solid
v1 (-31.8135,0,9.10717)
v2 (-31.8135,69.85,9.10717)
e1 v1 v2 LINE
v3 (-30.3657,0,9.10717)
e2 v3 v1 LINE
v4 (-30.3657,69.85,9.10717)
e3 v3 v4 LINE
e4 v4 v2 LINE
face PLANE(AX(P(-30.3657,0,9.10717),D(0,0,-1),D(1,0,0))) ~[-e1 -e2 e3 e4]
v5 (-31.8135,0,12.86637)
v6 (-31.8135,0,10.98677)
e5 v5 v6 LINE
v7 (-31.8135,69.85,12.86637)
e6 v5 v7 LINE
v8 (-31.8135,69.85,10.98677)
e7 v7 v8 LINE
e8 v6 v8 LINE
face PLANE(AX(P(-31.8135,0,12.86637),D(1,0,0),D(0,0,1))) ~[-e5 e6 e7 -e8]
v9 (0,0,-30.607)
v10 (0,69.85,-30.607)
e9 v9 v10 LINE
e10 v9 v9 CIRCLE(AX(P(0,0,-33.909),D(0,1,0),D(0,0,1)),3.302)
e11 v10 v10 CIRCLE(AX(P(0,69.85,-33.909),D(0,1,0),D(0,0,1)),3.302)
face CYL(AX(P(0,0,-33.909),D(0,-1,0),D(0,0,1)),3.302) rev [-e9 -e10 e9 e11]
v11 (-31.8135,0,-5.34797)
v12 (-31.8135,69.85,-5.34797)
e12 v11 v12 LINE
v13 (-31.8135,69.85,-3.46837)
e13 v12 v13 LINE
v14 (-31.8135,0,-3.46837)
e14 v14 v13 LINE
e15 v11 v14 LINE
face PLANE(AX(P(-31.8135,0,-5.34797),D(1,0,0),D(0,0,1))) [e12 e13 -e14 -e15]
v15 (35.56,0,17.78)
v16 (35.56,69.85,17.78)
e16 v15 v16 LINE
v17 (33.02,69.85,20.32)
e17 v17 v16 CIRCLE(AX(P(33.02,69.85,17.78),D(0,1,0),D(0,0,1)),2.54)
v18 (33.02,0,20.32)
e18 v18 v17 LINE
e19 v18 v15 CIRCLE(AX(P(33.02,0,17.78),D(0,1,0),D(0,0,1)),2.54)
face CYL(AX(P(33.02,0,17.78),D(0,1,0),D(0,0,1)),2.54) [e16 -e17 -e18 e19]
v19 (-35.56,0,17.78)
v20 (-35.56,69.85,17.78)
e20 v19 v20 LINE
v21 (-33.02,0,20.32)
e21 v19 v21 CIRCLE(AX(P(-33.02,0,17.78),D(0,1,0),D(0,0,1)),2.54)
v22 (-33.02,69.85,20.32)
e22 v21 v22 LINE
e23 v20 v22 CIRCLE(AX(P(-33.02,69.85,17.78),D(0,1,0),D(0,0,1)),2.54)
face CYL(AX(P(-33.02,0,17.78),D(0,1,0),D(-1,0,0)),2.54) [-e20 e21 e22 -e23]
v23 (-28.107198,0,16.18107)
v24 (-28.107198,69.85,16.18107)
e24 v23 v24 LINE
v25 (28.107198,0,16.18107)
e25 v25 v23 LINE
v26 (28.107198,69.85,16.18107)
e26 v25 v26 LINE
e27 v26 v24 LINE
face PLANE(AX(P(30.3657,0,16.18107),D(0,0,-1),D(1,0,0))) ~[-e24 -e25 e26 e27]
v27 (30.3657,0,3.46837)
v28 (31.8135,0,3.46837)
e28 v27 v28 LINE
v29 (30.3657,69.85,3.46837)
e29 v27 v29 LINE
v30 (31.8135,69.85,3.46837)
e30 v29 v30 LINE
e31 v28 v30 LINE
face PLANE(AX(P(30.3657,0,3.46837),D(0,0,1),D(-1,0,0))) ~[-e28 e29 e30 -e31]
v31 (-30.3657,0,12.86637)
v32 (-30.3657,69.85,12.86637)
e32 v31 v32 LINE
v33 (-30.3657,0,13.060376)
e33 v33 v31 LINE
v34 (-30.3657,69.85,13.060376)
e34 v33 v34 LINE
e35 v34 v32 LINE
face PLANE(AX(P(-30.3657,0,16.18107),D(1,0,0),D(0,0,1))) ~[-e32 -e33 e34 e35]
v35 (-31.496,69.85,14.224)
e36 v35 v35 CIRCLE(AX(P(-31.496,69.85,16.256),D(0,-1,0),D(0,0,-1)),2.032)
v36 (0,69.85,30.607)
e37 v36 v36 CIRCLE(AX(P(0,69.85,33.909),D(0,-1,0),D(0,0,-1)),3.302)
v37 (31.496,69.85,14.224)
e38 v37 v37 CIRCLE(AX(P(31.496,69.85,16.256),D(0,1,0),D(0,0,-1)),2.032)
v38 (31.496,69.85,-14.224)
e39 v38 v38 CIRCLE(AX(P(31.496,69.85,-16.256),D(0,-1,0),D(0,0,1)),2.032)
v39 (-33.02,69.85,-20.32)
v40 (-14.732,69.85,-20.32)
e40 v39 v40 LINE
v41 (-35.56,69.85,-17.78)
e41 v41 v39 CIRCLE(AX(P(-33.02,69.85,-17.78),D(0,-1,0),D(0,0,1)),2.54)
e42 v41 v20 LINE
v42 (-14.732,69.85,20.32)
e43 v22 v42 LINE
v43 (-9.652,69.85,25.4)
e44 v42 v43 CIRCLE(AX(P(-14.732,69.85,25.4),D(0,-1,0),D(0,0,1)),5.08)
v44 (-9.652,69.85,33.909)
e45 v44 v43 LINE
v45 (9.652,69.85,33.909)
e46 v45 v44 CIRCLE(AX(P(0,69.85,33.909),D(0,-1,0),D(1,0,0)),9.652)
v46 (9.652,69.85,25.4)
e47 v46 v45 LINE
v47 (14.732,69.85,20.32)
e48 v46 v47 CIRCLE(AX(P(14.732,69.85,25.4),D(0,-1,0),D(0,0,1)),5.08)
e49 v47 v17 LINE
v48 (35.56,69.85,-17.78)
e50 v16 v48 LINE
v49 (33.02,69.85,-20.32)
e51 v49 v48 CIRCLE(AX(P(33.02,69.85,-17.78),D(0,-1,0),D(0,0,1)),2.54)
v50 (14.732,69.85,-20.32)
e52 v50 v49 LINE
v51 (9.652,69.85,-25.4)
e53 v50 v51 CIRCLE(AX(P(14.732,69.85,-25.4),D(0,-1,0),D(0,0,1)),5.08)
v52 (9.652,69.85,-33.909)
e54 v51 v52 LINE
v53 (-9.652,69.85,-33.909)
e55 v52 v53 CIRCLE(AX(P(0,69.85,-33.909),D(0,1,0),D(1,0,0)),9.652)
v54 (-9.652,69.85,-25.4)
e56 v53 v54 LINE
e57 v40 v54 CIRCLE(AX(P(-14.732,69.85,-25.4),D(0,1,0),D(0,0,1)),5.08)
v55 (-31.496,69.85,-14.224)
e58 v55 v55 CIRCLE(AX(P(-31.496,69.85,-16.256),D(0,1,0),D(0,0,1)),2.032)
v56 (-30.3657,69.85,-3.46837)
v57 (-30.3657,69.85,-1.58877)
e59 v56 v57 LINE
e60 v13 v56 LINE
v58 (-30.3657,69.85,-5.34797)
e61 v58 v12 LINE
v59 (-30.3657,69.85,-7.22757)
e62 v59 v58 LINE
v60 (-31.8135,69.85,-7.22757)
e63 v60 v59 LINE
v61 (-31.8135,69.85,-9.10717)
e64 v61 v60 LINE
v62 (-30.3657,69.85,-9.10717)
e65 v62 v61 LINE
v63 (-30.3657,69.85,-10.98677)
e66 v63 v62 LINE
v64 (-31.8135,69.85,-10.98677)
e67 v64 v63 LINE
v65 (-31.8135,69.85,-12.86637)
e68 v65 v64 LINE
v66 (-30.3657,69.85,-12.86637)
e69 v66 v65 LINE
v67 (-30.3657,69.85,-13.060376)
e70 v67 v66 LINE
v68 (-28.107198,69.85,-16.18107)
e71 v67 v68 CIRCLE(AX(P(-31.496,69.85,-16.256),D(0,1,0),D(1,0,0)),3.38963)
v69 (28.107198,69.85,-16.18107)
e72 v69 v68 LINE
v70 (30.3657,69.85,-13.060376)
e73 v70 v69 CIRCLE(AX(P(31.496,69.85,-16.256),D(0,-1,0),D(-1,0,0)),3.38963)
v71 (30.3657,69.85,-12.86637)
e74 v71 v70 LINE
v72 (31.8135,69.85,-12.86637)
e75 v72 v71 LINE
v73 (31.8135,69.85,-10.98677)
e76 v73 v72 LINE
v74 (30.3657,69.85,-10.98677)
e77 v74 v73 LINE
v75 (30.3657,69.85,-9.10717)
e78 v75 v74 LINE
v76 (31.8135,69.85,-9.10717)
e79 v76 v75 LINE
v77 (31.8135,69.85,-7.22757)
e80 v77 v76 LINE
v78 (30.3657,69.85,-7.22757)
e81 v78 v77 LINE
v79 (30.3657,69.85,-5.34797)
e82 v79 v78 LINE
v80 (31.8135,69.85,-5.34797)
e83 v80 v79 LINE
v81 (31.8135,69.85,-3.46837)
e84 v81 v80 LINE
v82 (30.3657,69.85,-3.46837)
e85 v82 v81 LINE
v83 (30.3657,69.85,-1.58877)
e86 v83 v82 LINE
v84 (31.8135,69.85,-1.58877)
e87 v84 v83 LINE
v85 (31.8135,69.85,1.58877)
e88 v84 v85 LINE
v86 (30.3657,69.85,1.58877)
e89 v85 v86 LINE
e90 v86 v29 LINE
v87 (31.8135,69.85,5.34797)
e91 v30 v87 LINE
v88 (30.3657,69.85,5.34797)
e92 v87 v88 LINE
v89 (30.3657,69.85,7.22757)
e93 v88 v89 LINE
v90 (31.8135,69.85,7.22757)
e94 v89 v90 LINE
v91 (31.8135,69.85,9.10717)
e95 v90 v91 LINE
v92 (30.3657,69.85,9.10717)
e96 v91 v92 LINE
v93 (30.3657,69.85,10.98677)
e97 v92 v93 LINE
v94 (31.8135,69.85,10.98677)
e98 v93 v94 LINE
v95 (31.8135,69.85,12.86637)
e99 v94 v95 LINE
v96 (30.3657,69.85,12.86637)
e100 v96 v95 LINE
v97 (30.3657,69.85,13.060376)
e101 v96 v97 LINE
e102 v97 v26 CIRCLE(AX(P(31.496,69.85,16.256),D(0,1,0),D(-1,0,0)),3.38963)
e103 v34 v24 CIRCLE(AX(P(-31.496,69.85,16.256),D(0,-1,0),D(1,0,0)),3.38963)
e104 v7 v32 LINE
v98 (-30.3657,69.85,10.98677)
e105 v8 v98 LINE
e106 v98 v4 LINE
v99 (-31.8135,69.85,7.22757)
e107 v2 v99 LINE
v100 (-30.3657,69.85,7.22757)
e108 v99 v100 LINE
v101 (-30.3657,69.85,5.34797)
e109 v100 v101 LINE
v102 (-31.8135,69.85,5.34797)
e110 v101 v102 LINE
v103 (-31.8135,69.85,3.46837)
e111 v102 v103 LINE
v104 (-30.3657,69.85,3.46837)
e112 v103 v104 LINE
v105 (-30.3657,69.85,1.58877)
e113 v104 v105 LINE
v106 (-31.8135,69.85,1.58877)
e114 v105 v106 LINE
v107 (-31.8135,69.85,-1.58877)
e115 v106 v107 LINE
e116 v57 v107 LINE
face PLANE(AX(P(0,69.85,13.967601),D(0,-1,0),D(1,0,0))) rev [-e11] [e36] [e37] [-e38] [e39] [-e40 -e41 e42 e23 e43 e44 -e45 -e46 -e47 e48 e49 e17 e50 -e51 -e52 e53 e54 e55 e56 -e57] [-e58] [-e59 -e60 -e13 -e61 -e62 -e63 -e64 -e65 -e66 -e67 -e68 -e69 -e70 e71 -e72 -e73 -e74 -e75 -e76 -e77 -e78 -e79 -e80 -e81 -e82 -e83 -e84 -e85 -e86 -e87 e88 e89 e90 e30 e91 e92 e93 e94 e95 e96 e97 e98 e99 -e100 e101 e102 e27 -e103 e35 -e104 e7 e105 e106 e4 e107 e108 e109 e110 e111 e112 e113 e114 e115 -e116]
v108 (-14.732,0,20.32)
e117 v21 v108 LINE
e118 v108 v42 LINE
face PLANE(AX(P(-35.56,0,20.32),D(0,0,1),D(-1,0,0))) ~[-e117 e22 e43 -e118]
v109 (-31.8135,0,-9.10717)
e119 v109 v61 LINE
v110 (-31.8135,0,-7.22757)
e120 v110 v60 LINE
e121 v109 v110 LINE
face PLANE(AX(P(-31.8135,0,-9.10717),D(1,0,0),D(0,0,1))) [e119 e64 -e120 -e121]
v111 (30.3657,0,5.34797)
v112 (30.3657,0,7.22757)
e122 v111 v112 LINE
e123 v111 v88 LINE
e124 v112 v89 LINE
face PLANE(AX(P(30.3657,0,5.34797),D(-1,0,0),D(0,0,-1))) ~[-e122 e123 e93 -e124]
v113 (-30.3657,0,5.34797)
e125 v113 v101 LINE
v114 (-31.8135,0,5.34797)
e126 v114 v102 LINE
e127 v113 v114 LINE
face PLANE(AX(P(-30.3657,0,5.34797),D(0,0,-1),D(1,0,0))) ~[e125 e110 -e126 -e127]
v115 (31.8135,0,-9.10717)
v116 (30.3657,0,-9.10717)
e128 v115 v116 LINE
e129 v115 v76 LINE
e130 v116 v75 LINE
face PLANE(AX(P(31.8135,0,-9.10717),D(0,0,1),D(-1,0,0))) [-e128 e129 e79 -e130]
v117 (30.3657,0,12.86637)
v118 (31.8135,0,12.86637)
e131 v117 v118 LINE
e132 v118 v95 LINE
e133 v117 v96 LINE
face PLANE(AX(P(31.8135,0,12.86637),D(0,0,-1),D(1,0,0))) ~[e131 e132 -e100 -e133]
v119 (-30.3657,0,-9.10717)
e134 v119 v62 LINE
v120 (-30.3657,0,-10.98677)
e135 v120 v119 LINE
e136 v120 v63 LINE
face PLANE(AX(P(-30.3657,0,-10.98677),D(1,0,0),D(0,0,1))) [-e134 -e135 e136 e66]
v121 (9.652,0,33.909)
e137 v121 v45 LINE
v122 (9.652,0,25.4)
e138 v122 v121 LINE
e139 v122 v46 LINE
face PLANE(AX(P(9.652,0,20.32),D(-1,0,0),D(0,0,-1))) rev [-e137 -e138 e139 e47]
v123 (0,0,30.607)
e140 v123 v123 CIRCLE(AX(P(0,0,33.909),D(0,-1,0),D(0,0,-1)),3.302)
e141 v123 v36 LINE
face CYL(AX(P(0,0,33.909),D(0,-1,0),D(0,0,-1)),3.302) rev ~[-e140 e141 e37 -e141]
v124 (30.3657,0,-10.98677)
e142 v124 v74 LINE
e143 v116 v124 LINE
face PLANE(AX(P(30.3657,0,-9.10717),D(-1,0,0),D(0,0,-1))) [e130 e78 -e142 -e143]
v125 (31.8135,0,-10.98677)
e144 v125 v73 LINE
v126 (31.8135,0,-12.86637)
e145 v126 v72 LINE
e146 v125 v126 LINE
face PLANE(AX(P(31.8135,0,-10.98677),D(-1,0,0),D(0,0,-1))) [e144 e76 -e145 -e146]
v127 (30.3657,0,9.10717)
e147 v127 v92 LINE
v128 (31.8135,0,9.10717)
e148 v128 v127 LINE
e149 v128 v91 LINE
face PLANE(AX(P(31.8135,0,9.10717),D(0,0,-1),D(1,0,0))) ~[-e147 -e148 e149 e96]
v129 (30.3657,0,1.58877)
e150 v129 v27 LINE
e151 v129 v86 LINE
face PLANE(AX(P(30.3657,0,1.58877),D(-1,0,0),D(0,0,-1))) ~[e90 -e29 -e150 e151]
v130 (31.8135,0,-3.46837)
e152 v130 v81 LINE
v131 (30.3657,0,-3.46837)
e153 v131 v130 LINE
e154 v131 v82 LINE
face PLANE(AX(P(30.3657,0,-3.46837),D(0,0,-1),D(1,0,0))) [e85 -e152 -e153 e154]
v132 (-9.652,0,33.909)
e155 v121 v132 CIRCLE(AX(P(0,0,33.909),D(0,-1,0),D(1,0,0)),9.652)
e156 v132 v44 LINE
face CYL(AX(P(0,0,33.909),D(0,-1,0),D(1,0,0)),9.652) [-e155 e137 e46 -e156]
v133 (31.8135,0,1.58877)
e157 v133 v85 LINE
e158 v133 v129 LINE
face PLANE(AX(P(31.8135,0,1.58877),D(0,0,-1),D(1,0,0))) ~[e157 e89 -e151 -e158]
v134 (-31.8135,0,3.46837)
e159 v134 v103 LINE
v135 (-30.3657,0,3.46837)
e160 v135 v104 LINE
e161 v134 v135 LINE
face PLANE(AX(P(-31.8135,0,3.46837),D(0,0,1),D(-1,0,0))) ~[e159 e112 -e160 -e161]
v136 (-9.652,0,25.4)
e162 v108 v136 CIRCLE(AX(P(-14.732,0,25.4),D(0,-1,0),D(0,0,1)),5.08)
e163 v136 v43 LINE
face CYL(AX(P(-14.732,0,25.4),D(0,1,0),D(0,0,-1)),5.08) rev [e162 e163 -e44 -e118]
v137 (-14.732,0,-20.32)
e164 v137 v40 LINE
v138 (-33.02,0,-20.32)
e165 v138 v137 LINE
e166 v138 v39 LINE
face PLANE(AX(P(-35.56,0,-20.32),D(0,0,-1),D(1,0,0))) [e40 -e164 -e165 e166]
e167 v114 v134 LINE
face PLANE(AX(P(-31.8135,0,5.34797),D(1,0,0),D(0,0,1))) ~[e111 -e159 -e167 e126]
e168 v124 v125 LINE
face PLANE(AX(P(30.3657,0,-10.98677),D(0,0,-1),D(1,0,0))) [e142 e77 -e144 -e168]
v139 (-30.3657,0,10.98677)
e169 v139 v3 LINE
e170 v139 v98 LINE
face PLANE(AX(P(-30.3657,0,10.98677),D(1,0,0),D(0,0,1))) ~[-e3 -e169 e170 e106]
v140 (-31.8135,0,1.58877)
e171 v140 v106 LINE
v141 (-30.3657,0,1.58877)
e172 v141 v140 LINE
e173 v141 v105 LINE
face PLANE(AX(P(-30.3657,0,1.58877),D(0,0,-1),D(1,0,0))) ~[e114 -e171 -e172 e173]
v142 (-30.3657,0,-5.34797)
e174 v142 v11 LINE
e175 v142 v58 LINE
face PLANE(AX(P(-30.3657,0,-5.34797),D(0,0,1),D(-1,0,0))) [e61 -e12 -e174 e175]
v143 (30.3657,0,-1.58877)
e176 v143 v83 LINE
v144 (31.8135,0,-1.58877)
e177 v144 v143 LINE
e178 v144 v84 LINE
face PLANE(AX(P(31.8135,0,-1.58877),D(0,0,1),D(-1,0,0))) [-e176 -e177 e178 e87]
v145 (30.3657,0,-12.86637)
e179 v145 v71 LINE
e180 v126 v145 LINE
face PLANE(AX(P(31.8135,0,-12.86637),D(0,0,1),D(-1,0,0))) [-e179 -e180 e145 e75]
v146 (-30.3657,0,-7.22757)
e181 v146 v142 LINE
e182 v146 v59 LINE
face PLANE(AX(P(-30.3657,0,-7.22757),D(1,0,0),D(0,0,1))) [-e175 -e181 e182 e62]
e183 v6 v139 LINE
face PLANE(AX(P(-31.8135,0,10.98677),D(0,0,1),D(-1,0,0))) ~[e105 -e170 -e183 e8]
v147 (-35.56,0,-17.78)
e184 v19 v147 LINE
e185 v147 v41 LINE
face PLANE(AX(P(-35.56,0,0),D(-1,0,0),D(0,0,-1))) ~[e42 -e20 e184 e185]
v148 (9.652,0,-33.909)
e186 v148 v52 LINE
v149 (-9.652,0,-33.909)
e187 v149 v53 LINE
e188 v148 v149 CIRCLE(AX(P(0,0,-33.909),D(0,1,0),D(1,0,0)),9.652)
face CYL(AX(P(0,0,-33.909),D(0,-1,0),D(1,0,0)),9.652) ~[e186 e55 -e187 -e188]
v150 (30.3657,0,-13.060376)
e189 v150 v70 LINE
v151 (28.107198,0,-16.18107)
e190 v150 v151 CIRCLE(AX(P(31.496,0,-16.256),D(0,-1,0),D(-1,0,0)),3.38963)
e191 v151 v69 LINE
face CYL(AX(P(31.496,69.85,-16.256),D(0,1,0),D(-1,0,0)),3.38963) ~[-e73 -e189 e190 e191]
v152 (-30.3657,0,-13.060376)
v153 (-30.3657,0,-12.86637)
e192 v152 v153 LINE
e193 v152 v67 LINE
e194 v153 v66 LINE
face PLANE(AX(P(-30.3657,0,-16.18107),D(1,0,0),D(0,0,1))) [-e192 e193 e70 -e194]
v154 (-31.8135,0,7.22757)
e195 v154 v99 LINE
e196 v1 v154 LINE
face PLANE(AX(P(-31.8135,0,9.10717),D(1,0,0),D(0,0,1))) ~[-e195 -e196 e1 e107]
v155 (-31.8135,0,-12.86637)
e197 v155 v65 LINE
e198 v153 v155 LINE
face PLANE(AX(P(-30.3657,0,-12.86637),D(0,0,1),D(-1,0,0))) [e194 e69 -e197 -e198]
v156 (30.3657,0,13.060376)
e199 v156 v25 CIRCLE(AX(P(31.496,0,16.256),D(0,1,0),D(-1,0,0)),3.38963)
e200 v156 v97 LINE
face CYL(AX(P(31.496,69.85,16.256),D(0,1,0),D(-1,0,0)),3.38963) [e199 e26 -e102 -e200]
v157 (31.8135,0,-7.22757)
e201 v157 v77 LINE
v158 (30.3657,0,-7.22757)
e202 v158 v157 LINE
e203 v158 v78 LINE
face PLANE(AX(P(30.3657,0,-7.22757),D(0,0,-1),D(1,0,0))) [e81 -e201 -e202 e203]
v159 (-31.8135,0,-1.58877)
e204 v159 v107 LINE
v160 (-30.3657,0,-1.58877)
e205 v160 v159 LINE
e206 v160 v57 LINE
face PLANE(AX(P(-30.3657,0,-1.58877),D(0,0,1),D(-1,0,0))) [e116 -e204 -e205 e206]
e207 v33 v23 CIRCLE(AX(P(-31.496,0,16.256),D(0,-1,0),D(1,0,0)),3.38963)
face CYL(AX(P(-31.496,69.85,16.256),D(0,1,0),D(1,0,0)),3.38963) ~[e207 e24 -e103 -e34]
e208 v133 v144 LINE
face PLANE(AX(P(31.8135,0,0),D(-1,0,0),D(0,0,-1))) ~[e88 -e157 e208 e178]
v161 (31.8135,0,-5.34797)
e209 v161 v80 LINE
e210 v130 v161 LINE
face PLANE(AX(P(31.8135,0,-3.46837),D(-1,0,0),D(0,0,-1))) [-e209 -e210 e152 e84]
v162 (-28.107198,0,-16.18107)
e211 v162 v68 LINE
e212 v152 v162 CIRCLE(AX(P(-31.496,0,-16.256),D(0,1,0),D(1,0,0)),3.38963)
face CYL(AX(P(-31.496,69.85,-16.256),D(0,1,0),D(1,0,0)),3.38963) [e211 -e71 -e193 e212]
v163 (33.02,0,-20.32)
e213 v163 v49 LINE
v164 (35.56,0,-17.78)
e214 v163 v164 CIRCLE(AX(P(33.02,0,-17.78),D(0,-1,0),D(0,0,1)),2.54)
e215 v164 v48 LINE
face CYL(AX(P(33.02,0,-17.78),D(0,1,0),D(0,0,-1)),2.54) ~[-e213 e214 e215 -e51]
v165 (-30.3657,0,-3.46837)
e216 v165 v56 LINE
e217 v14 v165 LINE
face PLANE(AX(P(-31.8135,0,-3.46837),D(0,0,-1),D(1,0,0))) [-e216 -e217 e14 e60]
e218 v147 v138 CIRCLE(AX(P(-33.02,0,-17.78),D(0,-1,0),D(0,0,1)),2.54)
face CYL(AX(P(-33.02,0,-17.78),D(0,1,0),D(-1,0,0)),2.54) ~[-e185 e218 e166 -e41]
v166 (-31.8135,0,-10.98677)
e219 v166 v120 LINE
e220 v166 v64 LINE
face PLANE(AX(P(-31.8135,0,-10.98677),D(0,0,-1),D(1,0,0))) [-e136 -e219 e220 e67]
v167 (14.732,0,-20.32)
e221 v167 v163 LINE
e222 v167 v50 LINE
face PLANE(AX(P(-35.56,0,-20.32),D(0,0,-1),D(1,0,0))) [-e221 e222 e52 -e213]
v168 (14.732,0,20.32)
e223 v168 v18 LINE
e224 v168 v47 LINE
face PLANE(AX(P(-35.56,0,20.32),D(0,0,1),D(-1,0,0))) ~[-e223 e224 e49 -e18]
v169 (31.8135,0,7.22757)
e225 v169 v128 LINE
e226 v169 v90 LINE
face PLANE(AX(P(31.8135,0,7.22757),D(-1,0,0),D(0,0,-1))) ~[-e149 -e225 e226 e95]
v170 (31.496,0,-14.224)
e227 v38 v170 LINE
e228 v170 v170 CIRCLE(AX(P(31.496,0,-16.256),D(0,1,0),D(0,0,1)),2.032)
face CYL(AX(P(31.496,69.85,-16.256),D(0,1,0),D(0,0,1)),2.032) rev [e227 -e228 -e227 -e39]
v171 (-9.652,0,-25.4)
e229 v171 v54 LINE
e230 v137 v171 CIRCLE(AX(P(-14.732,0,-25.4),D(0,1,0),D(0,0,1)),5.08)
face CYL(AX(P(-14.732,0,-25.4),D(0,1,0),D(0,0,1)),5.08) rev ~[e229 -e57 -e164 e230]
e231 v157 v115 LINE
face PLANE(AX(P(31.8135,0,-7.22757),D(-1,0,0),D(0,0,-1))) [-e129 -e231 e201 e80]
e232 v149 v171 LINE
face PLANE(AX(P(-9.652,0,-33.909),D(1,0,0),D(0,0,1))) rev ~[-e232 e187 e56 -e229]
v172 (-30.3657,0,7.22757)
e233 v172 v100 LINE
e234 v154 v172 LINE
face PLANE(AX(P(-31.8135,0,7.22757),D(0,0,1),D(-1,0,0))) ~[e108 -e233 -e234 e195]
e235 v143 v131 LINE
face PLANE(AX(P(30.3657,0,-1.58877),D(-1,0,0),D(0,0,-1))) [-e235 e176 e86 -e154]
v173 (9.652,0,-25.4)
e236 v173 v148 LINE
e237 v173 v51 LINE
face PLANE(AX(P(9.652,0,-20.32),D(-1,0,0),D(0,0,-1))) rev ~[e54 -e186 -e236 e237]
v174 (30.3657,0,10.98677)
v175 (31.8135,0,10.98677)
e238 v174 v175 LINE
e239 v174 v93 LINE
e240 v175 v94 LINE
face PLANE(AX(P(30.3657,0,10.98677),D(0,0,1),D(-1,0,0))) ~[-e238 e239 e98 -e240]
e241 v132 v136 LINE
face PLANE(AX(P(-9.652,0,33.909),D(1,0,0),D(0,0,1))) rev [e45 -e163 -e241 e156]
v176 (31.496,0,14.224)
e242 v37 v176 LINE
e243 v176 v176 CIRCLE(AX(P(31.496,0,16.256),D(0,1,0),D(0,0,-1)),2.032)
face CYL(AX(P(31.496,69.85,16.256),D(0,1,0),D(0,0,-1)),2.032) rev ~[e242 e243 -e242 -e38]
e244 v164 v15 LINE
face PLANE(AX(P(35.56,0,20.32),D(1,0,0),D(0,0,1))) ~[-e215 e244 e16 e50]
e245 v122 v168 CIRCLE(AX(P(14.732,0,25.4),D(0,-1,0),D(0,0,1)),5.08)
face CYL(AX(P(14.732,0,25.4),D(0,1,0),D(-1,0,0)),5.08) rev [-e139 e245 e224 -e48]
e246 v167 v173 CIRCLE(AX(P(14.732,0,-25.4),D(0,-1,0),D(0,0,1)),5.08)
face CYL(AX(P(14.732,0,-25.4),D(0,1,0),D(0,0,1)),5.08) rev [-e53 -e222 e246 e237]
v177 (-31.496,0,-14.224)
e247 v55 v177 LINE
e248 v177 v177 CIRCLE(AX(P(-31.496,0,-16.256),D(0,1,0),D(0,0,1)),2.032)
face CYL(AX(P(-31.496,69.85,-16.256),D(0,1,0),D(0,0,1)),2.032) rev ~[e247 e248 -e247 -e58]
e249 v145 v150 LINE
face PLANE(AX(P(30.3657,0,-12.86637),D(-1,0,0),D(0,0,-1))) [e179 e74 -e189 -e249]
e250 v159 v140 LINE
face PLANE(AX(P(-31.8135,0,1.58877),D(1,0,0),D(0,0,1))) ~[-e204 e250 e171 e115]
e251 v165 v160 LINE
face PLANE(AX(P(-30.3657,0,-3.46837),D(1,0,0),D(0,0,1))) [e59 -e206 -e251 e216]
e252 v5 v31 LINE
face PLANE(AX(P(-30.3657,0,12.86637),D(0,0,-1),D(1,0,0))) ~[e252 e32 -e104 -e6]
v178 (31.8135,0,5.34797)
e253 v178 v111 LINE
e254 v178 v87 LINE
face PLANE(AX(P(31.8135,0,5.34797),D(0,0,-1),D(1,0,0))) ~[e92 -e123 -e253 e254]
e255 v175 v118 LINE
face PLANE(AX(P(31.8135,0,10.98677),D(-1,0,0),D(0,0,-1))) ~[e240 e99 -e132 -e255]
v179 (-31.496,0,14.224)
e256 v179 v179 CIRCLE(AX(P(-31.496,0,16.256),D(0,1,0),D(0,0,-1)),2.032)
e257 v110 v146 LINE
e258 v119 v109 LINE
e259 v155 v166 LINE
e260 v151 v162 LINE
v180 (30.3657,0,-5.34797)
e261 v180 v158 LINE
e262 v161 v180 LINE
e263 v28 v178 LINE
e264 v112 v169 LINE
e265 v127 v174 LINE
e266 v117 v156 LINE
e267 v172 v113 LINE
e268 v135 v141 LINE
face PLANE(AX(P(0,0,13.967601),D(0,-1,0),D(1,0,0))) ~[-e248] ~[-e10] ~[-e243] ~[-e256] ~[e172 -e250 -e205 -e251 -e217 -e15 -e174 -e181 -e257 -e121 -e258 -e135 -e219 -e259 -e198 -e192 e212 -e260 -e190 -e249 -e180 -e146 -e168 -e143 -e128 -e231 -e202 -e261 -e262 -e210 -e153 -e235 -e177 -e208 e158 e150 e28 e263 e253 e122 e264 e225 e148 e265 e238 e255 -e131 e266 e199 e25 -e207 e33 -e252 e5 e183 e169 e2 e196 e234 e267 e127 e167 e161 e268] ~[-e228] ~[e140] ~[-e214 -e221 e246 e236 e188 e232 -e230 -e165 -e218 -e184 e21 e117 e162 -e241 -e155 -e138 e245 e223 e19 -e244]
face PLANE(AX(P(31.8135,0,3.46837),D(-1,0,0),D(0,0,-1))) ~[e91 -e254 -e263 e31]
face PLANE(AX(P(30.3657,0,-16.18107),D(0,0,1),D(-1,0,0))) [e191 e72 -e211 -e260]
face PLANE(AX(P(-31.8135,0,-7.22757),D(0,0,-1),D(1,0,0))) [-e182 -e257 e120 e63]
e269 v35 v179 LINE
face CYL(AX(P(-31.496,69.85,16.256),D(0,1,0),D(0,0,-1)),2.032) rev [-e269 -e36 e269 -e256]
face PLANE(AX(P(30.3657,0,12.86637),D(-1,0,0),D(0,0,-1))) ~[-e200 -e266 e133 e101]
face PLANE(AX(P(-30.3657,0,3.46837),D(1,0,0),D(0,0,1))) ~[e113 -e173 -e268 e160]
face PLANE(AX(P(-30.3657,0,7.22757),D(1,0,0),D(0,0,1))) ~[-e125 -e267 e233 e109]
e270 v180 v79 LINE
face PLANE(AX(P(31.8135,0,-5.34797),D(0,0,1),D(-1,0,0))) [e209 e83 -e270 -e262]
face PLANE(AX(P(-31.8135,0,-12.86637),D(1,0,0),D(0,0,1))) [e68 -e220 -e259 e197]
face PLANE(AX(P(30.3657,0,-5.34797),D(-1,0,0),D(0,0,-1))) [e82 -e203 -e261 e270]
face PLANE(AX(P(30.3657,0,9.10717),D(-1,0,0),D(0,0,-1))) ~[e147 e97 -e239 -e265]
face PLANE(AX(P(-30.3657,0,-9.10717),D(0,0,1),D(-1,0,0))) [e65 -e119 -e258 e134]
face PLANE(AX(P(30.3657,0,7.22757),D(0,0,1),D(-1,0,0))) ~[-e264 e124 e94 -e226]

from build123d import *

# Parameters (mm, degrees)
BOSS_EXTRUDE1_DEPTH                        = 69.85
FILLET1_R                                  = 2.54
SKETCH4_R                                  = 3.302
BOSS_EXTRUDE3_DEPTH                        = 69.85
FILLET2_R                                  = 5.08
SKETCH5_R                                  = 3.38963
BOSS_EXTRUDE4_DEPTH                        = 69.85
FILLET1_OF_MIRROR1_R                       = 2.54
FILLET2_OF_MIRROR1_R                       = 5.08
MIRROR2_AT_THE_SECOND_PLANE_COPY_1_SKETC_R = 3.38963
MIRROR2_AT_THE_SECOND_PLANE_COPY_1_DEPTH   = 69.85
SKETCH6_R                                  = 2.032
CUT_EXTRUDE1_DEPTH                         = 90.672163022
MIRROR3_AT_THE_SECOND_PLANE_COPY_1_SKETC_R = 2.032
MIRROR3_AT_THE_SECOND_PLANE_COPY_1_DEPTH   = 90.672163022


with BuildPart() as part:
    # Sketch1 → Boss-Extrude1 (new body)
    with BuildSketch(Plane(origin=(0, 0, 0), x_dir=(1, 0, 0), z_dir=(0, 1, 0))):
        Polygon((30.3657, 16.18107), (-30.3657, 16.18107), (-30.3657, 12.86637), (-31.8135, 12.86637), (-31.8135, 10.98677), (-30.3657, 10.98677), (-30.3657, 9.10717), (-31.8135, 9.10717), (-31.8135, 7.22757), (-30.3657, 7.22757), (-30.3657, 5.34797), (-31.8135, 5.34797), (-31.8135, 3.46837), (-30.3657, 3.46837), (-30.3657, 1.58877), (-31.8135, 1.58877), (-31.8135, 0), (-35.56, 0), (-35.56, 20.32), (35.56, 20.32), (35.56, 0), (31.8135, 0), (31.8135, 1.58877), (30.3657, 1.58877), (30.3657, 3.46837), (31.8135, 3.46837), (31.8135, 5.34797), (30.3657, 5.34797), (30.3657, 7.22757), (31.8135, 7.22757), (31.8135, 9.10717), (30.3657, 9.10717), (30.3657, 10.98677), (31.8135, 10.98677), (31.8135, 12.86637), (30.3657, 12.86637), align=None)
    boss_extrude1 = extrude(amount=BOSS_EXTRUDE1_DEPTH)

    # Fillet1
    fillet1_edges = [part.edges().sort_by_distance(p)[0] for p in [
        (-35.56, 34.925, -20.32),
        (35.56, 34.925, -20.32),
    ]]
    fillet(fillet1_edges, radius=FILLET1_R)

    # Sketch4 → Boss-Extrude3 (add, through all)
    with BuildSketch(Plane(origin=(0, 0, 0), x_dir=(1, 0, 0), z_dir=(0, 1, 0))):
        with BuildLine():
            Line((-9.652, 33.909), (-9.652, 20.32))
            Line((-9.652, 20.32), (9.652, 20.32))
            Line((9.652, 20.32), (9.652, 33.909))
            ThreePointArc((9.652, 33.909), (0, 43.561), (-9.652, 33.909))
        make_face()
        with Locations(Location((0, 33.909, 0), (0, 0, 270))):
            Circle(SKETCH4_R, mode=Mode.SUBTRACT)
    boss_extrude3 = extrude(amount=BOSS_EXTRUDE3_DEPTH)

    # Fillet2
    fillet2_edges = [part.edges().sort_by_distance(p)[0] for p in [
        (-9.652, 34.925, -20.32),
        (9.652, 34.925, -20.32),
    ]]
    fillet(fillet2_edges, radius=FILLET2_R)

    # Sketch5 → Boss-Extrude4 (add)
    with BuildSketch(Plane(origin=(0, 69.85, 0), x_dir=(1, 0, 0), z_dir=(0, 1, 0))):
        with Locations((-31.496, 16.256)):
            Circle(SKETCH5_R)
    boss_extrude4 = extrude(amount=-BOSS_EXTRUDE4_DEPTH)

    # Mirror1: Boss-Extrude1, Boss-Extrude3 across plane
    add(boss_extrude1.mirror(Plane.XY))
    add(boss_extrude3.mirror(Plane.XY))

    # Fillet1 of Mirror1
    fillet1_of_mirror1_edges = [part.edges().sort_by_distance(p)[0] for p in [
        (-35.56, 34.925, 20.32),
        (35.56, 34.925, 20.32),
    ]]
    fillet(fillet1_of_mirror1_edges, radius=FILLET1_OF_MIRROR1_R)

    # Fillet2 of Mirror1
    fillet2_of_mirror1_edges = [part.edges().sort_by_distance(p)[0] for p in [
        (-9.652, 34.925, 20.32),
        (9.652, 34.925, 20.32),
    ]]
    fillet(fillet2_of_mirror1_edges, radius=FILLET2_OF_MIRROR1_R)

    # Mirror2: Boss-Extrude4 across plane
    add(boss_extrude4.mirror(Plane.XY))

    # Mirror2 at the second plane: Boss-Extrude4 across plane
    add(boss_extrude4.mirror(Plane(origin=(0, 0, 0), x_dir=(0, 0, 1), z_dir=(1, 0, 0))))

    # Mirror2 at the second plane copy 1 sketc → Mirror2 at the second plane copy 1 (add)
    with BuildSketch(Plane(origin=(0, 69.85, 0), x_dir=(-1, 0, 0), z_dir=(0, 1, 0))):
        with Locations((-31.496, 16.256)):
            Circle(MIRROR2_AT_THE_SECOND_PLANE_COPY_1_SKETC_R)
    extrude(amount=-MIRROR2_AT_THE_SECOND_PLANE_COPY_1_DEPTH)

    # Sketch6 → Cut-Extrude1 (cut, through all)
    with BuildSketch(Plane(origin=(0, 69.85, 0), x_dir=(1, 0, 0), z_dir=(0, 1, 0))):
        with Locations(Location((-31.496, 16.256, 0), (0, 0, 270))):
            Circle(SKETCH6_R)
    cut_extrude1 = extrude(amount=-CUT_EXTRUDE1_DEPTH, mode=Mode.SUBTRACT)

    # Mirror3: Cut-Extrude1 across plane
    add(cut_extrude1.mirror(Plane.XY), mode=Mode.SUBTRACT)

    # Mirror3 at the second plane: Cut-Extrude1 across plane
    add(cut_extrude1.mirror(Plane(origin=(0, 0, 0), x_dir=(0, 0, 1), z_dir=(1, 0, 0))), mode=Mode.SUBTRACT)

    # Mirror3 at the second plane copy 1 sketc → Mirror3 at the second plane copy 1 (cut, through all)
    with BuildSketch(Plane(origin=(0, 69.85, 0), x_dir=(-1, 0, 0), z_dir=(0, 1, 0))):
        with Locations(Location((-31.496, 16.256, 0), (0, 0, 270))):
            Circle(MIRROR3_AT_THE_SECOND_PLANE_COPY_1_SKETC_R)
    extrude(amount=-MIRROR3_AT_THE_SECOND_PLANE_COPY_1_DEPTH, mode=Mode.SUBTRACT)


solid = part.part
